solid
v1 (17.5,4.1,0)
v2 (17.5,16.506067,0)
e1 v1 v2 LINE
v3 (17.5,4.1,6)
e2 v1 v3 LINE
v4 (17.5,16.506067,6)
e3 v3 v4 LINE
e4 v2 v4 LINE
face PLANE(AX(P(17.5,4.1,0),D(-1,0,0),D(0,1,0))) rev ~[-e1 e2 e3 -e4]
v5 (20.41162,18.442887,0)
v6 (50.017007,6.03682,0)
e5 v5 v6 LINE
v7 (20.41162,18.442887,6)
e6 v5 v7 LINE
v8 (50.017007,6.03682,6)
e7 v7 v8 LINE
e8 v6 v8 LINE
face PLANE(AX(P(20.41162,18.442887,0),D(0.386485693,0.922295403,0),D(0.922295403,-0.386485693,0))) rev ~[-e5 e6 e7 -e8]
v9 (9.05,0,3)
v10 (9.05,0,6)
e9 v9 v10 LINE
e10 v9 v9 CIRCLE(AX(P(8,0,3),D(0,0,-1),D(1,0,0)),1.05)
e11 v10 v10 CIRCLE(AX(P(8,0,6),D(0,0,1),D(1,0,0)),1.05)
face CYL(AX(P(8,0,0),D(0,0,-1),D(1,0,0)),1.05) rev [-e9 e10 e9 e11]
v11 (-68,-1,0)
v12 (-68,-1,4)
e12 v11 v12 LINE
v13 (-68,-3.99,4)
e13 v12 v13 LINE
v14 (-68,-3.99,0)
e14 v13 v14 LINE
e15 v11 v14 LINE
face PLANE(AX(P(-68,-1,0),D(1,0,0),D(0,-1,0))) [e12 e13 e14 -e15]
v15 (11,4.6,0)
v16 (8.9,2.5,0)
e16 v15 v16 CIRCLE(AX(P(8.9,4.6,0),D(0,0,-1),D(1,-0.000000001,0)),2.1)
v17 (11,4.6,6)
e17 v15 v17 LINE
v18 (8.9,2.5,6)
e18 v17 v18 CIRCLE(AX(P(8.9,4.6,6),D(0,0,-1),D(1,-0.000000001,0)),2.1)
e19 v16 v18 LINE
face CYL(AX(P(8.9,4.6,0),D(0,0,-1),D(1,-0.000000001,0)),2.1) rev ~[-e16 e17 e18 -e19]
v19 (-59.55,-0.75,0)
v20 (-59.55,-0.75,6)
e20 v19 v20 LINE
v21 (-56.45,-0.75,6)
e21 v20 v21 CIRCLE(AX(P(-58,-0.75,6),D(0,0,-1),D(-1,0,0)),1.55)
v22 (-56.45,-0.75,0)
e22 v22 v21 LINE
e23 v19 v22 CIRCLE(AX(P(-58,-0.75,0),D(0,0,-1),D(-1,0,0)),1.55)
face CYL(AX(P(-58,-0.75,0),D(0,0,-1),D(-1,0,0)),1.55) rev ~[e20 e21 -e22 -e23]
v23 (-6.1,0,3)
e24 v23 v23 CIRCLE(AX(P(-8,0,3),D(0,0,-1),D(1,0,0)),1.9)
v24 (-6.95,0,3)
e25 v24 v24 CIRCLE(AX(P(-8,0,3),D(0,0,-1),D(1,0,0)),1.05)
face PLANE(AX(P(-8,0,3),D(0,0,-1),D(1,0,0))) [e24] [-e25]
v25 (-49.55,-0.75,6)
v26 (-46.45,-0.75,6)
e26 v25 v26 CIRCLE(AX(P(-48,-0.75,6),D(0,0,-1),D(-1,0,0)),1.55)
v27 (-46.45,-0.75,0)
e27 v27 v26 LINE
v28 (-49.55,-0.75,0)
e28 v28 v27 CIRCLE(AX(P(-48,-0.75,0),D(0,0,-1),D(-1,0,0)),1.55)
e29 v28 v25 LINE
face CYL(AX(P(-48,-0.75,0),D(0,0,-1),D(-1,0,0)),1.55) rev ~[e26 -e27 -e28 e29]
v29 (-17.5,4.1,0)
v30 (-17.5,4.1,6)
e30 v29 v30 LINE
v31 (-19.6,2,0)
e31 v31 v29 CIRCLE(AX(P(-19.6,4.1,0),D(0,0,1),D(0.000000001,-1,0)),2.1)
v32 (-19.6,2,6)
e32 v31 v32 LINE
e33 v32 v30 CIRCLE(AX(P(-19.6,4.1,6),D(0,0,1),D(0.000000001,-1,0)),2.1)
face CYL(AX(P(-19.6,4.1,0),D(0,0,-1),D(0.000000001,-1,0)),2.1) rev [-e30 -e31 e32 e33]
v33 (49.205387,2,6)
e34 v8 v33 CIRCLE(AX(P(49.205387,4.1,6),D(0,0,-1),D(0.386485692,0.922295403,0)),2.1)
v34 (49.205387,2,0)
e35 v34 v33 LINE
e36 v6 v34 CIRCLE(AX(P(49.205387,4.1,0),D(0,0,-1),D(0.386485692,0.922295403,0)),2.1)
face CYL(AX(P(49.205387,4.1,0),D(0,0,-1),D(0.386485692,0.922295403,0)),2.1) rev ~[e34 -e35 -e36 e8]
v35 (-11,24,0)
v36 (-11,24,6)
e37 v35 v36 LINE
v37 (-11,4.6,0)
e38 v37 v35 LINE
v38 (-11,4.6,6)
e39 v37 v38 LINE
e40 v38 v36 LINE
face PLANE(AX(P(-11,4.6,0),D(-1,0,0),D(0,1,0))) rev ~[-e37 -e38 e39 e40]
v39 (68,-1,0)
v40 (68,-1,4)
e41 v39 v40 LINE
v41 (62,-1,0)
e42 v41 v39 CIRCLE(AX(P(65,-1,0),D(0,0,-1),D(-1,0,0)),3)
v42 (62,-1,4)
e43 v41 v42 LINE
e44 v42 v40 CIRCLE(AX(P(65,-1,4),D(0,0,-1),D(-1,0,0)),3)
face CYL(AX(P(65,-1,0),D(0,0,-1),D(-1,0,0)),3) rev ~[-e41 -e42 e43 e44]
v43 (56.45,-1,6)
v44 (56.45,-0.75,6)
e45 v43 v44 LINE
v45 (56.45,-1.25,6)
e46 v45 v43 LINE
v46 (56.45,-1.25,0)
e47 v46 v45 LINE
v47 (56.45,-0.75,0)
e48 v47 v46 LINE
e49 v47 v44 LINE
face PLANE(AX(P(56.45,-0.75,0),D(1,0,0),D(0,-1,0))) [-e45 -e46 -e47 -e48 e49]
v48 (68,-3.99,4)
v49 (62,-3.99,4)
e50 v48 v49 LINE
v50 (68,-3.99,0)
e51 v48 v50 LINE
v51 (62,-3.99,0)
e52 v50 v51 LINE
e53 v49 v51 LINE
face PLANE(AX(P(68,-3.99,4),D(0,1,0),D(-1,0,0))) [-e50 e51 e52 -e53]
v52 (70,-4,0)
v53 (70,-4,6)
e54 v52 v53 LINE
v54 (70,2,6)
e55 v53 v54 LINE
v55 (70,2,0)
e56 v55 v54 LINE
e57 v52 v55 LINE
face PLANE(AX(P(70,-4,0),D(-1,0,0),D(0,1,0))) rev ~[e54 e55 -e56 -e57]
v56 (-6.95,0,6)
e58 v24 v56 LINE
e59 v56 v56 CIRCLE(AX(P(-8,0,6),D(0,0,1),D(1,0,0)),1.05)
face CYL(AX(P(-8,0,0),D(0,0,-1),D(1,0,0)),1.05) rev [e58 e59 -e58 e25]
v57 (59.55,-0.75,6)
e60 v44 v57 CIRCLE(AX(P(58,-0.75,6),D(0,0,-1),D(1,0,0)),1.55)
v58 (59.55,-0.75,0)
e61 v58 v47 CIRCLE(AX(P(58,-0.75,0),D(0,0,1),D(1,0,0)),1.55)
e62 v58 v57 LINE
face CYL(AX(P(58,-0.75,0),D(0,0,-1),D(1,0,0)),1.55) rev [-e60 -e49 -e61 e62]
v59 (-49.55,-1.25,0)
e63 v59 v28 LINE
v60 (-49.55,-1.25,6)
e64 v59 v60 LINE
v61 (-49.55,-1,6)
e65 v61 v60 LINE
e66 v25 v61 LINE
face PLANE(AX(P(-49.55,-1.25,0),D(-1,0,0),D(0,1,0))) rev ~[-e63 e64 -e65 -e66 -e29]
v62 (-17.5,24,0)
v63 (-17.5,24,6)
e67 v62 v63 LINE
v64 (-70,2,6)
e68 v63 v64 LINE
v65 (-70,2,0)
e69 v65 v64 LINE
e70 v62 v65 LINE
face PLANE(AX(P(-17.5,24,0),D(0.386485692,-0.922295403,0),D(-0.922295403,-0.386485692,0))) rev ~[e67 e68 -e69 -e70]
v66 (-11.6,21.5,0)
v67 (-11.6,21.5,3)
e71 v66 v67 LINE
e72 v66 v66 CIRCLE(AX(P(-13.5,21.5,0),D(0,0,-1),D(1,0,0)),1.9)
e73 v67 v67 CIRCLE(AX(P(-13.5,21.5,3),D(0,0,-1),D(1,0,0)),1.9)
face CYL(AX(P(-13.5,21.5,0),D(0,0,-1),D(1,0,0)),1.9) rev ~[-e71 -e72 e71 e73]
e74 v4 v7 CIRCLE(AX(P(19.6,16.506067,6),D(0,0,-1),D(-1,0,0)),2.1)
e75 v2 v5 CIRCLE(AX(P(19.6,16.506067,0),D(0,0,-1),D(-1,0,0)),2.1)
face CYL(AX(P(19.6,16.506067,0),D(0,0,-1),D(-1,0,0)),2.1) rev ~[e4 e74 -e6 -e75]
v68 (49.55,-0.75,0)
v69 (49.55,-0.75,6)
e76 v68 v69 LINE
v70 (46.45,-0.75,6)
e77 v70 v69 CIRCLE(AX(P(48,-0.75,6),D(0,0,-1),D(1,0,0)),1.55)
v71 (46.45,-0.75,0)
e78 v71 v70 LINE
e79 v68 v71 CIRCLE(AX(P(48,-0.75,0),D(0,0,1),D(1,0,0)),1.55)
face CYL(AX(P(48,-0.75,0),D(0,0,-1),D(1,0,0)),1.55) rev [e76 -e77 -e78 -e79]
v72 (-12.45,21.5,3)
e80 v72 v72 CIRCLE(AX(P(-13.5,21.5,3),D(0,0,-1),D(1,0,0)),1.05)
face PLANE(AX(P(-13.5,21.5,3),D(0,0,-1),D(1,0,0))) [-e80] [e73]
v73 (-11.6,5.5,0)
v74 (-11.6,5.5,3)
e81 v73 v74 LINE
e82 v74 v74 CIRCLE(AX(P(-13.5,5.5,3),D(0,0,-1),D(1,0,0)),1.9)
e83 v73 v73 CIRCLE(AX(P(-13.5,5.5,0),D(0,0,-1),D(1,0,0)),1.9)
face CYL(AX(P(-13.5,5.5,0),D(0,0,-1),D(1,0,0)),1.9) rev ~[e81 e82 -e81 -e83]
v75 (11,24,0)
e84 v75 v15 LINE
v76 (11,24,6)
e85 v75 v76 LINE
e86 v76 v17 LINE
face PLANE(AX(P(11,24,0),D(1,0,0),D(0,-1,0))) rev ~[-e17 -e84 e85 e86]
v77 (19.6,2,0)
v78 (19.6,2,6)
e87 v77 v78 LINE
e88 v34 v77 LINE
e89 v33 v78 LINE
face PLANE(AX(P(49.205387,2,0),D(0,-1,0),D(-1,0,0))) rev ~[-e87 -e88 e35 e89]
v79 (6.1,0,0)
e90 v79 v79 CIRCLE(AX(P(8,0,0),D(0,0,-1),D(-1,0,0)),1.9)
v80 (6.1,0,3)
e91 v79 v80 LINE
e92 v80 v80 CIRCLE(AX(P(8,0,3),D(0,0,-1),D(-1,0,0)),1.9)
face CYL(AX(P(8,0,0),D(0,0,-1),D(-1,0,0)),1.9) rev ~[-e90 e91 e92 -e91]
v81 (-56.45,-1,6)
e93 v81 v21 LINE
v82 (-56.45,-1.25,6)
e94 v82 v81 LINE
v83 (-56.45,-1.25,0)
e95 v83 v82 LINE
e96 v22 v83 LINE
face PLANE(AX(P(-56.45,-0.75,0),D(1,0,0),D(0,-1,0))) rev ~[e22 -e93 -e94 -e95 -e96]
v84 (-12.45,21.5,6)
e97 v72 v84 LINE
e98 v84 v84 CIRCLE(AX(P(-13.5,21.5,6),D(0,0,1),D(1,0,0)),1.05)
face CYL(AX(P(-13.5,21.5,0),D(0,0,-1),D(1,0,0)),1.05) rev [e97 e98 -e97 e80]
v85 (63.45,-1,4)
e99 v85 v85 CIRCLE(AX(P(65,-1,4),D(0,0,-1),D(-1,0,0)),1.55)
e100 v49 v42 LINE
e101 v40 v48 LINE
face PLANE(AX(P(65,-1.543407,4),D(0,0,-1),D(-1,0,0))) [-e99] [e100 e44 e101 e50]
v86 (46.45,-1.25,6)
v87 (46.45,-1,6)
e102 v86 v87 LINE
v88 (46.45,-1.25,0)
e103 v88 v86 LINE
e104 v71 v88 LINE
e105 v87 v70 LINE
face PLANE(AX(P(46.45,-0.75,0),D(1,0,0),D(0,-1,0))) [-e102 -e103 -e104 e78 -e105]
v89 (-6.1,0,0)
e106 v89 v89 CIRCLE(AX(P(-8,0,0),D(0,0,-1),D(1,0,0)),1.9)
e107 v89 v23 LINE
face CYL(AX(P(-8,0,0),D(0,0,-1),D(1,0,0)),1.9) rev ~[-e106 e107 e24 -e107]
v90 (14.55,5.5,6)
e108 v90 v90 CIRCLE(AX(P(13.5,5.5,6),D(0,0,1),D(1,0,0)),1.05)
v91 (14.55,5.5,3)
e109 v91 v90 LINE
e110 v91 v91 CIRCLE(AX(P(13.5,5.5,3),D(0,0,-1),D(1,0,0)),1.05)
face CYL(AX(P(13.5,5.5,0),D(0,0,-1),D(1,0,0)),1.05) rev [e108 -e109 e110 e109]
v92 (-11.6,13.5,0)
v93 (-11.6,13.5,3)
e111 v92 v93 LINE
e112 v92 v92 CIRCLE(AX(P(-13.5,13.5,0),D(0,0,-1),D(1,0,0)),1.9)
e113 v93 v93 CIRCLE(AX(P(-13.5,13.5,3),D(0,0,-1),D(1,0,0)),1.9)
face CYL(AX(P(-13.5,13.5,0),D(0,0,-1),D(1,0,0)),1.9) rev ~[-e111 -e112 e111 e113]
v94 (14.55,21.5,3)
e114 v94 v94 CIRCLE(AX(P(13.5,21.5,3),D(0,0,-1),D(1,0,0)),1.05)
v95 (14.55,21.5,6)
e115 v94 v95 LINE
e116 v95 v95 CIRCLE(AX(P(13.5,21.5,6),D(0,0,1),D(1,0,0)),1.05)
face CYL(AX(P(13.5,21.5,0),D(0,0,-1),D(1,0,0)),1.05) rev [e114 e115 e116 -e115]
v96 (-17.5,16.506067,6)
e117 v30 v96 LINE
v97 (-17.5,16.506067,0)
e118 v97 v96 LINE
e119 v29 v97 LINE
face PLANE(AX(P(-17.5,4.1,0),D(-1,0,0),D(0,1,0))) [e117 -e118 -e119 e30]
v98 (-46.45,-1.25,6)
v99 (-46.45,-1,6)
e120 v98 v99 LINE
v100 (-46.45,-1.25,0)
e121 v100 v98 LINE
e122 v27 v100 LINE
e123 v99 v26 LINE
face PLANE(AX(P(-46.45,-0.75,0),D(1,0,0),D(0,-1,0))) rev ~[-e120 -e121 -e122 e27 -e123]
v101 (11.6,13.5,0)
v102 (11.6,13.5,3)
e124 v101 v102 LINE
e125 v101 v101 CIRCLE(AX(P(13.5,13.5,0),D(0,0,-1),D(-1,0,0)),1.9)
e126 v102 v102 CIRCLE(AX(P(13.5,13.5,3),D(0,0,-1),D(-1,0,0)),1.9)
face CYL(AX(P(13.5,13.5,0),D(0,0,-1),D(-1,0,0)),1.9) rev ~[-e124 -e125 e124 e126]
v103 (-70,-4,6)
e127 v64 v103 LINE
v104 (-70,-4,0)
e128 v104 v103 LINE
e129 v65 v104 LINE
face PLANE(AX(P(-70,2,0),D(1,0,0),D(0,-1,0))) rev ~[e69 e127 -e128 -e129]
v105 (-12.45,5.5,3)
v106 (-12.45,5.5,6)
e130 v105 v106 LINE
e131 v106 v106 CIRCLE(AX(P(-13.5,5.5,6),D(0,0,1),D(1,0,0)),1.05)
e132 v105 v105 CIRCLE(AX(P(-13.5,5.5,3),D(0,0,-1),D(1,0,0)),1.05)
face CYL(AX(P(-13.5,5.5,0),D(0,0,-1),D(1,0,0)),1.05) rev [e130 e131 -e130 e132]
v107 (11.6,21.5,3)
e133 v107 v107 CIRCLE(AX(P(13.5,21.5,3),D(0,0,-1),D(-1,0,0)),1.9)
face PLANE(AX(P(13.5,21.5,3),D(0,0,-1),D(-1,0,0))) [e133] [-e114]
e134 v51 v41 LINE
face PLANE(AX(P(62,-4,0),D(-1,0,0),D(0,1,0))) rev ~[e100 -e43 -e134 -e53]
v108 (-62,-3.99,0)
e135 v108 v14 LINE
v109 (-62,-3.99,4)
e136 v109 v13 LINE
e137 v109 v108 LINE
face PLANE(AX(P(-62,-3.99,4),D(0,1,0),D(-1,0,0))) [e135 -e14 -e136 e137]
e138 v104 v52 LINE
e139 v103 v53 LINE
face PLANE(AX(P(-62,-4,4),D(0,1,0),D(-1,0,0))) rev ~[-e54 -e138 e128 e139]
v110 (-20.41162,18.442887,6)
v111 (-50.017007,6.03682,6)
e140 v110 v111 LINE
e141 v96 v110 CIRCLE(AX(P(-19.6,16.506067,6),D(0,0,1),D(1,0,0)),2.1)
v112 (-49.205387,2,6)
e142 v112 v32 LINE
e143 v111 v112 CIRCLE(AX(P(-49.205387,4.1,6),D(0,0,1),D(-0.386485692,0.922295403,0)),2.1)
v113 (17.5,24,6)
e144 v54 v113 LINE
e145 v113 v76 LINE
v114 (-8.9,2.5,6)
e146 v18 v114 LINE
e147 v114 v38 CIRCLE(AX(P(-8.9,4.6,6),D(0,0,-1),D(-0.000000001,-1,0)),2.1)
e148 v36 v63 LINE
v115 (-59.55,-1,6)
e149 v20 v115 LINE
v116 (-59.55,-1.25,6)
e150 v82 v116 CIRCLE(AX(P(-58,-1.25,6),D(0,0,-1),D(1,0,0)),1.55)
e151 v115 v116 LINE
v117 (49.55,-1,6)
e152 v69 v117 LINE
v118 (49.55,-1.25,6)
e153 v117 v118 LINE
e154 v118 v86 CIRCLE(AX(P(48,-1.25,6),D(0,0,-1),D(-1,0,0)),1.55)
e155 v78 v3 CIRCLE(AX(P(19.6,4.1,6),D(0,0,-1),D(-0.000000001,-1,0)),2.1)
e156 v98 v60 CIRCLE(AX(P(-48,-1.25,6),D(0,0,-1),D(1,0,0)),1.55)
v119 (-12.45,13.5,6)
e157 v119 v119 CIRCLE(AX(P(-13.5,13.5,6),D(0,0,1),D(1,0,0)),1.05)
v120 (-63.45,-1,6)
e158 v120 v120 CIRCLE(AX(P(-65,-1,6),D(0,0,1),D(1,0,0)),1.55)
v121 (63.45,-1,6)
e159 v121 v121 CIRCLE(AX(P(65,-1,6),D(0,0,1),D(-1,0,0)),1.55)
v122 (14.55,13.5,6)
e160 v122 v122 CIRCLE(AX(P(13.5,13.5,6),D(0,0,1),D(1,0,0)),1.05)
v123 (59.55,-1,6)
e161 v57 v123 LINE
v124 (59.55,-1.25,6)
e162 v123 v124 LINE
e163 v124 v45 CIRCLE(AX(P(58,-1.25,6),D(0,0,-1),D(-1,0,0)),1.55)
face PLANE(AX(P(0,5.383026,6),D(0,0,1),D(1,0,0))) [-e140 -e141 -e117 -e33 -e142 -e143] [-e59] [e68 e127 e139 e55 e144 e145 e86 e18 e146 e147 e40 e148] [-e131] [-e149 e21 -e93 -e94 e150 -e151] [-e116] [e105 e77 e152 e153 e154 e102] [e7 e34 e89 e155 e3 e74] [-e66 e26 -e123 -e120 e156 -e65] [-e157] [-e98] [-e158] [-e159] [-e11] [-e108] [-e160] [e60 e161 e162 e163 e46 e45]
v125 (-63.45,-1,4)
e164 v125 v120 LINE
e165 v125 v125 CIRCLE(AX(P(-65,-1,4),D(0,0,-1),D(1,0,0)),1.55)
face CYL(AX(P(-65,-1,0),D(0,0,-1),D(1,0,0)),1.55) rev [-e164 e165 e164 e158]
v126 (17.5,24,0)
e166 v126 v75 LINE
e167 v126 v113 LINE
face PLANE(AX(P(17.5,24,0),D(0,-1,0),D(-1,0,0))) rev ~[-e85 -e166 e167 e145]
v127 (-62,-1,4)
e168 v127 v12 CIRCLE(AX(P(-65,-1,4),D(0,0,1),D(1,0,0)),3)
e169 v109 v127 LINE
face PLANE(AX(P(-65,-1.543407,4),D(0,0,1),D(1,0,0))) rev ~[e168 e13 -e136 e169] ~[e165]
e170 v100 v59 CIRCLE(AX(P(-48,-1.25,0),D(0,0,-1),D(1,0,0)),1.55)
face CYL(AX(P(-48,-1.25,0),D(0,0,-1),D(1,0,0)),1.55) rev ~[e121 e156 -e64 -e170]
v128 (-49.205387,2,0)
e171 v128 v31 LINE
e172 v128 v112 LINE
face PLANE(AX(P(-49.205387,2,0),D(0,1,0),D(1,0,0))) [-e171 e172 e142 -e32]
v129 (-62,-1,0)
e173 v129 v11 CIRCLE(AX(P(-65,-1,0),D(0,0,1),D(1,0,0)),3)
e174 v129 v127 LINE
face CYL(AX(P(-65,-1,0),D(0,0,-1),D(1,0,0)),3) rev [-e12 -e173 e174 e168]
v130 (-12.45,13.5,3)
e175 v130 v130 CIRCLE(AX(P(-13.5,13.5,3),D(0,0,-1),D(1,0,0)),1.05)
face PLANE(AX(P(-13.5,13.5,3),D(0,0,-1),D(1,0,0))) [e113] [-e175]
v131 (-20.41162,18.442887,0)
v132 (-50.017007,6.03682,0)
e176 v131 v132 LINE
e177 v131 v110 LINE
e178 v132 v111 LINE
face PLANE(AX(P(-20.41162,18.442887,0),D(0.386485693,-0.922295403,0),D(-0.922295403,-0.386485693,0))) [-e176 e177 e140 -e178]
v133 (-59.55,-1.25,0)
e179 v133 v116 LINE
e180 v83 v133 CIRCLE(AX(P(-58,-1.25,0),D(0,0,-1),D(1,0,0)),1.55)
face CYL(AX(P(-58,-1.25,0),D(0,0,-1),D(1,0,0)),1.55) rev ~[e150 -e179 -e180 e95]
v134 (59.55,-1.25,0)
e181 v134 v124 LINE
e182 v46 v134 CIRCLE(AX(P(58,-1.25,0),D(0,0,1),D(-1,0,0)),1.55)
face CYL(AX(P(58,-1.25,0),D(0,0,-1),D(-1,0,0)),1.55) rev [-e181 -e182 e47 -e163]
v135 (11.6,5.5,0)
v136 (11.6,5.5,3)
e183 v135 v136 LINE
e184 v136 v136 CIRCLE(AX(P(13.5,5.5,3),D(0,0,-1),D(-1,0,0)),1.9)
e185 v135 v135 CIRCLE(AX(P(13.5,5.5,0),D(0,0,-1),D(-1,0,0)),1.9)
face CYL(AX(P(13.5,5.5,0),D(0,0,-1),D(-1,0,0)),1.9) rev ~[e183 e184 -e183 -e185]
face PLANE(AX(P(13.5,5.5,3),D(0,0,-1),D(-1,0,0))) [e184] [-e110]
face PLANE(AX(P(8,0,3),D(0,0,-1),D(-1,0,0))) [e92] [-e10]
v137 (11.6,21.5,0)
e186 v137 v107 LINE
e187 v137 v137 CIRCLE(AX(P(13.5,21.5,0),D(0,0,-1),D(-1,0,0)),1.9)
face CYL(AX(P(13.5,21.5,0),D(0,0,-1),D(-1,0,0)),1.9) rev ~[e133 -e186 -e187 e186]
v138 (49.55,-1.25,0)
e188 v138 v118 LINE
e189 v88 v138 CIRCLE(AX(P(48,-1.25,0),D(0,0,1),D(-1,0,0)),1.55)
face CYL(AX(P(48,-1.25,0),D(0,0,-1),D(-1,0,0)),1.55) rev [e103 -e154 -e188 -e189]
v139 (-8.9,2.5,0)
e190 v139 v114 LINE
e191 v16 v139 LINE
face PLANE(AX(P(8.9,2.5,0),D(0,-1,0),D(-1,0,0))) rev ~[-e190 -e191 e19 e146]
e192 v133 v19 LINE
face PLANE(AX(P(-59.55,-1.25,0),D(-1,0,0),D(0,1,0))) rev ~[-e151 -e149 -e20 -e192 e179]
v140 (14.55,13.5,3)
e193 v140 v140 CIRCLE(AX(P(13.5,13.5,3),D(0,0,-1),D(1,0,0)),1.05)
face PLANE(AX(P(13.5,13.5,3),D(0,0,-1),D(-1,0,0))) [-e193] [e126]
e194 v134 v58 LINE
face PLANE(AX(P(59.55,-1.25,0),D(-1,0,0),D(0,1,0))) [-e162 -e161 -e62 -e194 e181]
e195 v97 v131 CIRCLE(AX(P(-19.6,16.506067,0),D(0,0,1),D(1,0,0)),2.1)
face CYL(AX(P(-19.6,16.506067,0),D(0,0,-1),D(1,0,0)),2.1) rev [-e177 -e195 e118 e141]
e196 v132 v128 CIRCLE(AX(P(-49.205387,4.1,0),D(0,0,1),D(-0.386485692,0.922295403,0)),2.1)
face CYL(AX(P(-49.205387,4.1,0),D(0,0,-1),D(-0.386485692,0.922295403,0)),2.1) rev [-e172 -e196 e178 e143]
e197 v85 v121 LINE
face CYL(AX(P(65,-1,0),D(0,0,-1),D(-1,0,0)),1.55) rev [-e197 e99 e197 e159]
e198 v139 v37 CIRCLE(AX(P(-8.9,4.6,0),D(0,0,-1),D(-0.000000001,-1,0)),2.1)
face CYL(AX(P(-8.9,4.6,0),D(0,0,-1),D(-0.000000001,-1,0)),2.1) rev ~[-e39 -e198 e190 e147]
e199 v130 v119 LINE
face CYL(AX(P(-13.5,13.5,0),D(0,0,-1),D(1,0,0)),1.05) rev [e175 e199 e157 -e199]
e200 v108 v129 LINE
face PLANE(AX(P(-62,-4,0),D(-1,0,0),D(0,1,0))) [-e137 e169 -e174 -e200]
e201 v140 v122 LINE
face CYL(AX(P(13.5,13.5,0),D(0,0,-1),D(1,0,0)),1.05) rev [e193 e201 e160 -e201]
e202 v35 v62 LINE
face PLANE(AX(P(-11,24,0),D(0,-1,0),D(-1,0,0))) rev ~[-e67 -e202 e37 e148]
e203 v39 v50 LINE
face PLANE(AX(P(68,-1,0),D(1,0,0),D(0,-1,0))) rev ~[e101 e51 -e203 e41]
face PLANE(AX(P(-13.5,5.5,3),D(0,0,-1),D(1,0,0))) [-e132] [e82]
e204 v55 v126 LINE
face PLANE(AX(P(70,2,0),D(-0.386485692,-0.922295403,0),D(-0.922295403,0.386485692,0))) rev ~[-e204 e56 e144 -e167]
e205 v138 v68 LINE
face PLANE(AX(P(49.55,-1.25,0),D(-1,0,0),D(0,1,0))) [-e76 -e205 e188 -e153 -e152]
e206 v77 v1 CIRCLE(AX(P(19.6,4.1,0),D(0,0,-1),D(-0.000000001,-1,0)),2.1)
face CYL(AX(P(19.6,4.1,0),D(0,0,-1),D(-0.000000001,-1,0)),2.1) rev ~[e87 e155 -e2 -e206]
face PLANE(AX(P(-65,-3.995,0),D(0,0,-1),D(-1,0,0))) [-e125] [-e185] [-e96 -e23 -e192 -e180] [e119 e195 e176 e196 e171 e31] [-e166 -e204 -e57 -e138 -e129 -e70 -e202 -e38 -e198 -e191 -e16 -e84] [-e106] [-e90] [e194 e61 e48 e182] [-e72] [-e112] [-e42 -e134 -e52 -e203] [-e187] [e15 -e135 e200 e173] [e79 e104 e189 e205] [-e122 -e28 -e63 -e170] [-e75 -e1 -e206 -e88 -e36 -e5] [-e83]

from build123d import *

# Parameters (mm, degrees)
SKETCH_1_R          = 1.05
SKETCH_1_R_2        = 1.55
EXTRUDE_1_DEPTH     = 6
SKETCH_2_R          = 1.55
CUT_EXTRUDE_1_DEPTH = 3
CUT_EXTRUDE_2_DEPTH = 75.242844773
CUT_EXTRUDE_3_DEPTH = 4
SKETCH_6_R          = 1.9
CUT_EXTRUDE_4_DEPTH = 3
SKETCH_7_W          = 6
SKETCH_7_H          = 0.01
EXTRUDE_2_DEPTH     = 4


with BuildPart() as part:
    # ｽｹｯﾁ1 → ﾎﾞｽ - 押し出し1 (new body)
    with BuildSketch(Plane.XY):
        with BuildLine():
            Line((-11, 4.6), (-11, 24))
            Line((-11, 24), (-17.5, 24))
            Line((-17.5, 24), (-70, 2))
            Line((-70, 2), (-70, -4))
            Line((-70, -4), (-17.5, -4))
            Line((-17.5, -4), (17.5, -4))
            Line((17.5, -4), (70, -4))
            Line((70, -4), (70, 2))
            Line((70, 2), (17.5, 24))
            Line((17.5, 24), (11, 24))
            Line((11, 24), (11, 4.6))
            ThreePointArc((11, 4.6), (10.38492424, 3.11507576), (8.9, 2.5))
            Line((8.9, 2.5), (-8.9, 2.5))
            ThreePointArc((-8.9, 2.5), (-10.38492424, 3.11507576), (-11, 4.6))
        make_face()
        with Locations((-13.5, 5.5)):
            Circle(SKETCH_1_R, mode=Mode.SUBTRACT)
        with Locations((-8, 0)):
            Circle(SKETCH_1_R, mode=Mode.SUBTRACT)
        with Locations((8, 0)):
            Circle(SKETCH_1_R, mode=Mode.SUBTRACT)
        with Locations((-13.5, 13.5)):
            Circle(SKETCH_1_R, mode=Mode.SUBTRACT)
        with Locations((-13.5, 21.5)):
            Circle(SKETCH_1_R, mode=Mode.SUBTRACT)
        with Locations((13.5, 21.5)):
            Circle(SKETCH_1_R, mode=Mode.SUBTRACT)
        with Locations((13.5, 13.5)):
            Circle(SKETCH_1_R, mode=Mode.SUBTRACT)
        with Locations((13.5, 5.5)):
            Circle(SKETCH_1_R, mode=Mode.SUBTRACT)
        with Locations((-65, -1)):
            Circle(SKETCH_1_R_2, mode=Mode.SUBTRACT)
        with Locations(Location((65, -1, 0), (0, 0, 180))):
            Circle(SKETCH_1_R_2, mode=Mode.SUBTRACT)
        with BuildLine():
            Line((-17.5, 4.1), (-17.5, 16.506066998))
            ThreePointArc((-17.5, 16.506066998), (-18.436901101, 18.254552329), (-20.411619954, 18.442887344))
            Line((-20.411619954, 18.442887344), (-50.017007109, 6.036820345))
            ThreePointArc((-50.017007109, 6.036820345), (-51.264188108, 3.686069284), (-49.205387155, 2))
            Line((-49.205387155, 2), (-19.6, 2))
            ThreePointArc((-19.6, 2), (-18.11507576, 2.61507576), (-17.5, 4.1))
        make_face(mode=Mode.SUBTRACT)
        with BuildLine():
            Line((20.411619954, 18.442887344), (50.017007109, 6.036820345))
            ThreePointArc((50.017007109, 6.036820345), (51.264188108, 3.686069284), (49.205387155, 2))
            Line((49.205387155, 2), (19.6, 2))
            ThreePointArc((19.6, 2), (18.11507576, 2.61507576), (17.5, 4.1))
            Line((17.5, 4.1), (17.5, 16.506066998))
            ThreePointArc((17.5, 16.506066998), (18.436901101, 18.254552329), (20.411619954, 18.442887344))
        make_face(mode=Mode.SUBTRACT)
    extrude(amount=EXTRUDE_1_DEPTH)

    # ｽｹｯﾁ2 → ｶｯﾄ - 押し出し1 (cut)
    with BuildSketch(Plane.XY.offset(6)):
        with Locations((-48, -1)):
            Circle(SKETCH_2_R)
        with Locations(Location((48, -1, 0), (0, 0, 180))):
            Circle(SKETCH_2_R)
        with Locations((-58, -1)):
            Circle(SKETCH_2_R)
        with Locations(Location((58, -1, 0), (0, 0, 180))):
            Circle(SKETCH_2_R)
    extrude(amount=-CUT_EXTRUDE_1_DEPTH, mode=Mode.SUBTRACT)

    # ｽｹｯﾁ3 → ｶｯﾄ - 押し出し2 (cut, through all)
    with BuildSketch(Plane(origin=(0, 0, 0), x_dir=(-1, 0, 0), z_dir=(0, 0, -1))):
        with BuildLine():
            Line((-56.45, -0.75), (-56.45, -1.25))
            ThreePointArc((-56.45, -1.25), (-58, -2.8), (-59.55, -1.25))
            Line((-59.55, -1.25), (-59.55, -0.75))
            ThreePointArc((-59.55, -0.75), (-58, 0.8), (-56.45, -0.75))
        make_face()
        with BuildLine():
            Line((-46.45, -0.75), (-46.45, -1.25))
            ThreePointArc((-46.45, -1.25), (-48, -2.8), (-49.55, -1.25))
            Line((-49.55, -1.25), (-49.55, -0.75))
            ThreePointArc((-49.55, -0.75), (-48, 0.8), (-46.45, -0.75))
        make_face()
        with BuildLine():
            Line((56.45, -0.75), (56.45, -1.25))
            ThreePointArc((56.45, -1.25), (58, -2.8), (59.55, -1.25))
            Line((59.55, -1.25), (59.55, -0.75))
            ThreePointArc((59.55, -0.75), (58, 0.8), (56.45, -0.75))
        make_face()
        with BuildLine():
            Line((46.45, -0.75), (46.45, -1.25))
            ThreePointArc((46.45, -1.25), (48, -2.8), (49.55, -1.25))
            Line((49.55, -1.25), (49.55, -0.75))
            ThreePointArc((49.55, -0.75), (48, 0.8), (46.45, -0.75))
        make_face()
    extrude(amount=-CUT_EXTRUDE_2_DEPTH, mode=Mode.SUBTRACT)

    # ｽｹｯﾁ4 → ｶｯﾄ - 押し出し3 (cut)
    with BuildSketch(Plane(origin=(0, 0, 0), x_dir=(-1, 0, 0), z_dir=(0, 0, -1))):
        with BuildLine():
            Line((-68, -1), (-68, -4))
            Line((-68, -4), (-62, -4))
            Line((-62, -4), (-62, -1))
            ThreePointArc((-62, -1), (-65, 2), (-68, -1))
        make_face()
        with BuildLine():
            Line((62, -4), (62, -1))
            ThreePointArc((62, -1), (65, 2), (68, -1))
            Line((68, -1), (68, -4))
            Line((68, -4), (62, -4))
        make_face()
    extrude(amount=-CUT_EXTRUDE_3_DEPTH, mode=Mode.SUBTRACT)

    # ｽｹｯﾁ6 → ｶｯﾄ - 押し出し4 (cut)
    with BuildSketch(Plane(origin=(0, 0, 0), x_dir=(-1, 0, 0), z_dir=(0, 0, -1))):
        with Locations((-13.5, 21.5)):
            Circle(SKETCH_6_R)
        with Locations((-13.5, 13.5)):
            Circle(SKETCH_6_R)
        with Locations((-13.5, 5.5)):
            Circle(SKETCH_6_R)
        with Locations((-8, 0)):
            Circle(SKETCH_6_R)
        with Locations(Location((8, 0, 0), (0, 0, 180))):
            Circle(SKETCH_6_R)
        with Locations(Location((13.5, 5.5, 0), (0, 0, 180))):
            Circle(SKETCH_6_R)
        with Locations(Location((13.5, 13.5, 0), (0, 0, 180))):
            Circle(SKETCH_6_R)
        with Locations(Location((13.5, 21.5, 0), (0, 0, 180))):
            Circle(SKETCH_6_R)
    extrude(amount=-CUT_EXTRUDE_4_DEPTH, mode=Mode.SUBTRACT)

    # ｽｹｯﾁ7 → ﾎﾞｽ - 押し出し2 (add)
    with BuildSketch(Plane(origin=(0, 0, 4), x_dir=(-1, 0, 0), z_dir=(0, 0, -1))):
        with Locations((65, -3.995)):
            Rectangle(SKETCH_7_W, SKETCH_7_H)
        with Locations((-65, -3.995)):
            Rectangle(SKETCH_7_W, SKETCH_7_H)
    extrude(amount=EXTRUDE_2_DEPTH)


solid = part.part
